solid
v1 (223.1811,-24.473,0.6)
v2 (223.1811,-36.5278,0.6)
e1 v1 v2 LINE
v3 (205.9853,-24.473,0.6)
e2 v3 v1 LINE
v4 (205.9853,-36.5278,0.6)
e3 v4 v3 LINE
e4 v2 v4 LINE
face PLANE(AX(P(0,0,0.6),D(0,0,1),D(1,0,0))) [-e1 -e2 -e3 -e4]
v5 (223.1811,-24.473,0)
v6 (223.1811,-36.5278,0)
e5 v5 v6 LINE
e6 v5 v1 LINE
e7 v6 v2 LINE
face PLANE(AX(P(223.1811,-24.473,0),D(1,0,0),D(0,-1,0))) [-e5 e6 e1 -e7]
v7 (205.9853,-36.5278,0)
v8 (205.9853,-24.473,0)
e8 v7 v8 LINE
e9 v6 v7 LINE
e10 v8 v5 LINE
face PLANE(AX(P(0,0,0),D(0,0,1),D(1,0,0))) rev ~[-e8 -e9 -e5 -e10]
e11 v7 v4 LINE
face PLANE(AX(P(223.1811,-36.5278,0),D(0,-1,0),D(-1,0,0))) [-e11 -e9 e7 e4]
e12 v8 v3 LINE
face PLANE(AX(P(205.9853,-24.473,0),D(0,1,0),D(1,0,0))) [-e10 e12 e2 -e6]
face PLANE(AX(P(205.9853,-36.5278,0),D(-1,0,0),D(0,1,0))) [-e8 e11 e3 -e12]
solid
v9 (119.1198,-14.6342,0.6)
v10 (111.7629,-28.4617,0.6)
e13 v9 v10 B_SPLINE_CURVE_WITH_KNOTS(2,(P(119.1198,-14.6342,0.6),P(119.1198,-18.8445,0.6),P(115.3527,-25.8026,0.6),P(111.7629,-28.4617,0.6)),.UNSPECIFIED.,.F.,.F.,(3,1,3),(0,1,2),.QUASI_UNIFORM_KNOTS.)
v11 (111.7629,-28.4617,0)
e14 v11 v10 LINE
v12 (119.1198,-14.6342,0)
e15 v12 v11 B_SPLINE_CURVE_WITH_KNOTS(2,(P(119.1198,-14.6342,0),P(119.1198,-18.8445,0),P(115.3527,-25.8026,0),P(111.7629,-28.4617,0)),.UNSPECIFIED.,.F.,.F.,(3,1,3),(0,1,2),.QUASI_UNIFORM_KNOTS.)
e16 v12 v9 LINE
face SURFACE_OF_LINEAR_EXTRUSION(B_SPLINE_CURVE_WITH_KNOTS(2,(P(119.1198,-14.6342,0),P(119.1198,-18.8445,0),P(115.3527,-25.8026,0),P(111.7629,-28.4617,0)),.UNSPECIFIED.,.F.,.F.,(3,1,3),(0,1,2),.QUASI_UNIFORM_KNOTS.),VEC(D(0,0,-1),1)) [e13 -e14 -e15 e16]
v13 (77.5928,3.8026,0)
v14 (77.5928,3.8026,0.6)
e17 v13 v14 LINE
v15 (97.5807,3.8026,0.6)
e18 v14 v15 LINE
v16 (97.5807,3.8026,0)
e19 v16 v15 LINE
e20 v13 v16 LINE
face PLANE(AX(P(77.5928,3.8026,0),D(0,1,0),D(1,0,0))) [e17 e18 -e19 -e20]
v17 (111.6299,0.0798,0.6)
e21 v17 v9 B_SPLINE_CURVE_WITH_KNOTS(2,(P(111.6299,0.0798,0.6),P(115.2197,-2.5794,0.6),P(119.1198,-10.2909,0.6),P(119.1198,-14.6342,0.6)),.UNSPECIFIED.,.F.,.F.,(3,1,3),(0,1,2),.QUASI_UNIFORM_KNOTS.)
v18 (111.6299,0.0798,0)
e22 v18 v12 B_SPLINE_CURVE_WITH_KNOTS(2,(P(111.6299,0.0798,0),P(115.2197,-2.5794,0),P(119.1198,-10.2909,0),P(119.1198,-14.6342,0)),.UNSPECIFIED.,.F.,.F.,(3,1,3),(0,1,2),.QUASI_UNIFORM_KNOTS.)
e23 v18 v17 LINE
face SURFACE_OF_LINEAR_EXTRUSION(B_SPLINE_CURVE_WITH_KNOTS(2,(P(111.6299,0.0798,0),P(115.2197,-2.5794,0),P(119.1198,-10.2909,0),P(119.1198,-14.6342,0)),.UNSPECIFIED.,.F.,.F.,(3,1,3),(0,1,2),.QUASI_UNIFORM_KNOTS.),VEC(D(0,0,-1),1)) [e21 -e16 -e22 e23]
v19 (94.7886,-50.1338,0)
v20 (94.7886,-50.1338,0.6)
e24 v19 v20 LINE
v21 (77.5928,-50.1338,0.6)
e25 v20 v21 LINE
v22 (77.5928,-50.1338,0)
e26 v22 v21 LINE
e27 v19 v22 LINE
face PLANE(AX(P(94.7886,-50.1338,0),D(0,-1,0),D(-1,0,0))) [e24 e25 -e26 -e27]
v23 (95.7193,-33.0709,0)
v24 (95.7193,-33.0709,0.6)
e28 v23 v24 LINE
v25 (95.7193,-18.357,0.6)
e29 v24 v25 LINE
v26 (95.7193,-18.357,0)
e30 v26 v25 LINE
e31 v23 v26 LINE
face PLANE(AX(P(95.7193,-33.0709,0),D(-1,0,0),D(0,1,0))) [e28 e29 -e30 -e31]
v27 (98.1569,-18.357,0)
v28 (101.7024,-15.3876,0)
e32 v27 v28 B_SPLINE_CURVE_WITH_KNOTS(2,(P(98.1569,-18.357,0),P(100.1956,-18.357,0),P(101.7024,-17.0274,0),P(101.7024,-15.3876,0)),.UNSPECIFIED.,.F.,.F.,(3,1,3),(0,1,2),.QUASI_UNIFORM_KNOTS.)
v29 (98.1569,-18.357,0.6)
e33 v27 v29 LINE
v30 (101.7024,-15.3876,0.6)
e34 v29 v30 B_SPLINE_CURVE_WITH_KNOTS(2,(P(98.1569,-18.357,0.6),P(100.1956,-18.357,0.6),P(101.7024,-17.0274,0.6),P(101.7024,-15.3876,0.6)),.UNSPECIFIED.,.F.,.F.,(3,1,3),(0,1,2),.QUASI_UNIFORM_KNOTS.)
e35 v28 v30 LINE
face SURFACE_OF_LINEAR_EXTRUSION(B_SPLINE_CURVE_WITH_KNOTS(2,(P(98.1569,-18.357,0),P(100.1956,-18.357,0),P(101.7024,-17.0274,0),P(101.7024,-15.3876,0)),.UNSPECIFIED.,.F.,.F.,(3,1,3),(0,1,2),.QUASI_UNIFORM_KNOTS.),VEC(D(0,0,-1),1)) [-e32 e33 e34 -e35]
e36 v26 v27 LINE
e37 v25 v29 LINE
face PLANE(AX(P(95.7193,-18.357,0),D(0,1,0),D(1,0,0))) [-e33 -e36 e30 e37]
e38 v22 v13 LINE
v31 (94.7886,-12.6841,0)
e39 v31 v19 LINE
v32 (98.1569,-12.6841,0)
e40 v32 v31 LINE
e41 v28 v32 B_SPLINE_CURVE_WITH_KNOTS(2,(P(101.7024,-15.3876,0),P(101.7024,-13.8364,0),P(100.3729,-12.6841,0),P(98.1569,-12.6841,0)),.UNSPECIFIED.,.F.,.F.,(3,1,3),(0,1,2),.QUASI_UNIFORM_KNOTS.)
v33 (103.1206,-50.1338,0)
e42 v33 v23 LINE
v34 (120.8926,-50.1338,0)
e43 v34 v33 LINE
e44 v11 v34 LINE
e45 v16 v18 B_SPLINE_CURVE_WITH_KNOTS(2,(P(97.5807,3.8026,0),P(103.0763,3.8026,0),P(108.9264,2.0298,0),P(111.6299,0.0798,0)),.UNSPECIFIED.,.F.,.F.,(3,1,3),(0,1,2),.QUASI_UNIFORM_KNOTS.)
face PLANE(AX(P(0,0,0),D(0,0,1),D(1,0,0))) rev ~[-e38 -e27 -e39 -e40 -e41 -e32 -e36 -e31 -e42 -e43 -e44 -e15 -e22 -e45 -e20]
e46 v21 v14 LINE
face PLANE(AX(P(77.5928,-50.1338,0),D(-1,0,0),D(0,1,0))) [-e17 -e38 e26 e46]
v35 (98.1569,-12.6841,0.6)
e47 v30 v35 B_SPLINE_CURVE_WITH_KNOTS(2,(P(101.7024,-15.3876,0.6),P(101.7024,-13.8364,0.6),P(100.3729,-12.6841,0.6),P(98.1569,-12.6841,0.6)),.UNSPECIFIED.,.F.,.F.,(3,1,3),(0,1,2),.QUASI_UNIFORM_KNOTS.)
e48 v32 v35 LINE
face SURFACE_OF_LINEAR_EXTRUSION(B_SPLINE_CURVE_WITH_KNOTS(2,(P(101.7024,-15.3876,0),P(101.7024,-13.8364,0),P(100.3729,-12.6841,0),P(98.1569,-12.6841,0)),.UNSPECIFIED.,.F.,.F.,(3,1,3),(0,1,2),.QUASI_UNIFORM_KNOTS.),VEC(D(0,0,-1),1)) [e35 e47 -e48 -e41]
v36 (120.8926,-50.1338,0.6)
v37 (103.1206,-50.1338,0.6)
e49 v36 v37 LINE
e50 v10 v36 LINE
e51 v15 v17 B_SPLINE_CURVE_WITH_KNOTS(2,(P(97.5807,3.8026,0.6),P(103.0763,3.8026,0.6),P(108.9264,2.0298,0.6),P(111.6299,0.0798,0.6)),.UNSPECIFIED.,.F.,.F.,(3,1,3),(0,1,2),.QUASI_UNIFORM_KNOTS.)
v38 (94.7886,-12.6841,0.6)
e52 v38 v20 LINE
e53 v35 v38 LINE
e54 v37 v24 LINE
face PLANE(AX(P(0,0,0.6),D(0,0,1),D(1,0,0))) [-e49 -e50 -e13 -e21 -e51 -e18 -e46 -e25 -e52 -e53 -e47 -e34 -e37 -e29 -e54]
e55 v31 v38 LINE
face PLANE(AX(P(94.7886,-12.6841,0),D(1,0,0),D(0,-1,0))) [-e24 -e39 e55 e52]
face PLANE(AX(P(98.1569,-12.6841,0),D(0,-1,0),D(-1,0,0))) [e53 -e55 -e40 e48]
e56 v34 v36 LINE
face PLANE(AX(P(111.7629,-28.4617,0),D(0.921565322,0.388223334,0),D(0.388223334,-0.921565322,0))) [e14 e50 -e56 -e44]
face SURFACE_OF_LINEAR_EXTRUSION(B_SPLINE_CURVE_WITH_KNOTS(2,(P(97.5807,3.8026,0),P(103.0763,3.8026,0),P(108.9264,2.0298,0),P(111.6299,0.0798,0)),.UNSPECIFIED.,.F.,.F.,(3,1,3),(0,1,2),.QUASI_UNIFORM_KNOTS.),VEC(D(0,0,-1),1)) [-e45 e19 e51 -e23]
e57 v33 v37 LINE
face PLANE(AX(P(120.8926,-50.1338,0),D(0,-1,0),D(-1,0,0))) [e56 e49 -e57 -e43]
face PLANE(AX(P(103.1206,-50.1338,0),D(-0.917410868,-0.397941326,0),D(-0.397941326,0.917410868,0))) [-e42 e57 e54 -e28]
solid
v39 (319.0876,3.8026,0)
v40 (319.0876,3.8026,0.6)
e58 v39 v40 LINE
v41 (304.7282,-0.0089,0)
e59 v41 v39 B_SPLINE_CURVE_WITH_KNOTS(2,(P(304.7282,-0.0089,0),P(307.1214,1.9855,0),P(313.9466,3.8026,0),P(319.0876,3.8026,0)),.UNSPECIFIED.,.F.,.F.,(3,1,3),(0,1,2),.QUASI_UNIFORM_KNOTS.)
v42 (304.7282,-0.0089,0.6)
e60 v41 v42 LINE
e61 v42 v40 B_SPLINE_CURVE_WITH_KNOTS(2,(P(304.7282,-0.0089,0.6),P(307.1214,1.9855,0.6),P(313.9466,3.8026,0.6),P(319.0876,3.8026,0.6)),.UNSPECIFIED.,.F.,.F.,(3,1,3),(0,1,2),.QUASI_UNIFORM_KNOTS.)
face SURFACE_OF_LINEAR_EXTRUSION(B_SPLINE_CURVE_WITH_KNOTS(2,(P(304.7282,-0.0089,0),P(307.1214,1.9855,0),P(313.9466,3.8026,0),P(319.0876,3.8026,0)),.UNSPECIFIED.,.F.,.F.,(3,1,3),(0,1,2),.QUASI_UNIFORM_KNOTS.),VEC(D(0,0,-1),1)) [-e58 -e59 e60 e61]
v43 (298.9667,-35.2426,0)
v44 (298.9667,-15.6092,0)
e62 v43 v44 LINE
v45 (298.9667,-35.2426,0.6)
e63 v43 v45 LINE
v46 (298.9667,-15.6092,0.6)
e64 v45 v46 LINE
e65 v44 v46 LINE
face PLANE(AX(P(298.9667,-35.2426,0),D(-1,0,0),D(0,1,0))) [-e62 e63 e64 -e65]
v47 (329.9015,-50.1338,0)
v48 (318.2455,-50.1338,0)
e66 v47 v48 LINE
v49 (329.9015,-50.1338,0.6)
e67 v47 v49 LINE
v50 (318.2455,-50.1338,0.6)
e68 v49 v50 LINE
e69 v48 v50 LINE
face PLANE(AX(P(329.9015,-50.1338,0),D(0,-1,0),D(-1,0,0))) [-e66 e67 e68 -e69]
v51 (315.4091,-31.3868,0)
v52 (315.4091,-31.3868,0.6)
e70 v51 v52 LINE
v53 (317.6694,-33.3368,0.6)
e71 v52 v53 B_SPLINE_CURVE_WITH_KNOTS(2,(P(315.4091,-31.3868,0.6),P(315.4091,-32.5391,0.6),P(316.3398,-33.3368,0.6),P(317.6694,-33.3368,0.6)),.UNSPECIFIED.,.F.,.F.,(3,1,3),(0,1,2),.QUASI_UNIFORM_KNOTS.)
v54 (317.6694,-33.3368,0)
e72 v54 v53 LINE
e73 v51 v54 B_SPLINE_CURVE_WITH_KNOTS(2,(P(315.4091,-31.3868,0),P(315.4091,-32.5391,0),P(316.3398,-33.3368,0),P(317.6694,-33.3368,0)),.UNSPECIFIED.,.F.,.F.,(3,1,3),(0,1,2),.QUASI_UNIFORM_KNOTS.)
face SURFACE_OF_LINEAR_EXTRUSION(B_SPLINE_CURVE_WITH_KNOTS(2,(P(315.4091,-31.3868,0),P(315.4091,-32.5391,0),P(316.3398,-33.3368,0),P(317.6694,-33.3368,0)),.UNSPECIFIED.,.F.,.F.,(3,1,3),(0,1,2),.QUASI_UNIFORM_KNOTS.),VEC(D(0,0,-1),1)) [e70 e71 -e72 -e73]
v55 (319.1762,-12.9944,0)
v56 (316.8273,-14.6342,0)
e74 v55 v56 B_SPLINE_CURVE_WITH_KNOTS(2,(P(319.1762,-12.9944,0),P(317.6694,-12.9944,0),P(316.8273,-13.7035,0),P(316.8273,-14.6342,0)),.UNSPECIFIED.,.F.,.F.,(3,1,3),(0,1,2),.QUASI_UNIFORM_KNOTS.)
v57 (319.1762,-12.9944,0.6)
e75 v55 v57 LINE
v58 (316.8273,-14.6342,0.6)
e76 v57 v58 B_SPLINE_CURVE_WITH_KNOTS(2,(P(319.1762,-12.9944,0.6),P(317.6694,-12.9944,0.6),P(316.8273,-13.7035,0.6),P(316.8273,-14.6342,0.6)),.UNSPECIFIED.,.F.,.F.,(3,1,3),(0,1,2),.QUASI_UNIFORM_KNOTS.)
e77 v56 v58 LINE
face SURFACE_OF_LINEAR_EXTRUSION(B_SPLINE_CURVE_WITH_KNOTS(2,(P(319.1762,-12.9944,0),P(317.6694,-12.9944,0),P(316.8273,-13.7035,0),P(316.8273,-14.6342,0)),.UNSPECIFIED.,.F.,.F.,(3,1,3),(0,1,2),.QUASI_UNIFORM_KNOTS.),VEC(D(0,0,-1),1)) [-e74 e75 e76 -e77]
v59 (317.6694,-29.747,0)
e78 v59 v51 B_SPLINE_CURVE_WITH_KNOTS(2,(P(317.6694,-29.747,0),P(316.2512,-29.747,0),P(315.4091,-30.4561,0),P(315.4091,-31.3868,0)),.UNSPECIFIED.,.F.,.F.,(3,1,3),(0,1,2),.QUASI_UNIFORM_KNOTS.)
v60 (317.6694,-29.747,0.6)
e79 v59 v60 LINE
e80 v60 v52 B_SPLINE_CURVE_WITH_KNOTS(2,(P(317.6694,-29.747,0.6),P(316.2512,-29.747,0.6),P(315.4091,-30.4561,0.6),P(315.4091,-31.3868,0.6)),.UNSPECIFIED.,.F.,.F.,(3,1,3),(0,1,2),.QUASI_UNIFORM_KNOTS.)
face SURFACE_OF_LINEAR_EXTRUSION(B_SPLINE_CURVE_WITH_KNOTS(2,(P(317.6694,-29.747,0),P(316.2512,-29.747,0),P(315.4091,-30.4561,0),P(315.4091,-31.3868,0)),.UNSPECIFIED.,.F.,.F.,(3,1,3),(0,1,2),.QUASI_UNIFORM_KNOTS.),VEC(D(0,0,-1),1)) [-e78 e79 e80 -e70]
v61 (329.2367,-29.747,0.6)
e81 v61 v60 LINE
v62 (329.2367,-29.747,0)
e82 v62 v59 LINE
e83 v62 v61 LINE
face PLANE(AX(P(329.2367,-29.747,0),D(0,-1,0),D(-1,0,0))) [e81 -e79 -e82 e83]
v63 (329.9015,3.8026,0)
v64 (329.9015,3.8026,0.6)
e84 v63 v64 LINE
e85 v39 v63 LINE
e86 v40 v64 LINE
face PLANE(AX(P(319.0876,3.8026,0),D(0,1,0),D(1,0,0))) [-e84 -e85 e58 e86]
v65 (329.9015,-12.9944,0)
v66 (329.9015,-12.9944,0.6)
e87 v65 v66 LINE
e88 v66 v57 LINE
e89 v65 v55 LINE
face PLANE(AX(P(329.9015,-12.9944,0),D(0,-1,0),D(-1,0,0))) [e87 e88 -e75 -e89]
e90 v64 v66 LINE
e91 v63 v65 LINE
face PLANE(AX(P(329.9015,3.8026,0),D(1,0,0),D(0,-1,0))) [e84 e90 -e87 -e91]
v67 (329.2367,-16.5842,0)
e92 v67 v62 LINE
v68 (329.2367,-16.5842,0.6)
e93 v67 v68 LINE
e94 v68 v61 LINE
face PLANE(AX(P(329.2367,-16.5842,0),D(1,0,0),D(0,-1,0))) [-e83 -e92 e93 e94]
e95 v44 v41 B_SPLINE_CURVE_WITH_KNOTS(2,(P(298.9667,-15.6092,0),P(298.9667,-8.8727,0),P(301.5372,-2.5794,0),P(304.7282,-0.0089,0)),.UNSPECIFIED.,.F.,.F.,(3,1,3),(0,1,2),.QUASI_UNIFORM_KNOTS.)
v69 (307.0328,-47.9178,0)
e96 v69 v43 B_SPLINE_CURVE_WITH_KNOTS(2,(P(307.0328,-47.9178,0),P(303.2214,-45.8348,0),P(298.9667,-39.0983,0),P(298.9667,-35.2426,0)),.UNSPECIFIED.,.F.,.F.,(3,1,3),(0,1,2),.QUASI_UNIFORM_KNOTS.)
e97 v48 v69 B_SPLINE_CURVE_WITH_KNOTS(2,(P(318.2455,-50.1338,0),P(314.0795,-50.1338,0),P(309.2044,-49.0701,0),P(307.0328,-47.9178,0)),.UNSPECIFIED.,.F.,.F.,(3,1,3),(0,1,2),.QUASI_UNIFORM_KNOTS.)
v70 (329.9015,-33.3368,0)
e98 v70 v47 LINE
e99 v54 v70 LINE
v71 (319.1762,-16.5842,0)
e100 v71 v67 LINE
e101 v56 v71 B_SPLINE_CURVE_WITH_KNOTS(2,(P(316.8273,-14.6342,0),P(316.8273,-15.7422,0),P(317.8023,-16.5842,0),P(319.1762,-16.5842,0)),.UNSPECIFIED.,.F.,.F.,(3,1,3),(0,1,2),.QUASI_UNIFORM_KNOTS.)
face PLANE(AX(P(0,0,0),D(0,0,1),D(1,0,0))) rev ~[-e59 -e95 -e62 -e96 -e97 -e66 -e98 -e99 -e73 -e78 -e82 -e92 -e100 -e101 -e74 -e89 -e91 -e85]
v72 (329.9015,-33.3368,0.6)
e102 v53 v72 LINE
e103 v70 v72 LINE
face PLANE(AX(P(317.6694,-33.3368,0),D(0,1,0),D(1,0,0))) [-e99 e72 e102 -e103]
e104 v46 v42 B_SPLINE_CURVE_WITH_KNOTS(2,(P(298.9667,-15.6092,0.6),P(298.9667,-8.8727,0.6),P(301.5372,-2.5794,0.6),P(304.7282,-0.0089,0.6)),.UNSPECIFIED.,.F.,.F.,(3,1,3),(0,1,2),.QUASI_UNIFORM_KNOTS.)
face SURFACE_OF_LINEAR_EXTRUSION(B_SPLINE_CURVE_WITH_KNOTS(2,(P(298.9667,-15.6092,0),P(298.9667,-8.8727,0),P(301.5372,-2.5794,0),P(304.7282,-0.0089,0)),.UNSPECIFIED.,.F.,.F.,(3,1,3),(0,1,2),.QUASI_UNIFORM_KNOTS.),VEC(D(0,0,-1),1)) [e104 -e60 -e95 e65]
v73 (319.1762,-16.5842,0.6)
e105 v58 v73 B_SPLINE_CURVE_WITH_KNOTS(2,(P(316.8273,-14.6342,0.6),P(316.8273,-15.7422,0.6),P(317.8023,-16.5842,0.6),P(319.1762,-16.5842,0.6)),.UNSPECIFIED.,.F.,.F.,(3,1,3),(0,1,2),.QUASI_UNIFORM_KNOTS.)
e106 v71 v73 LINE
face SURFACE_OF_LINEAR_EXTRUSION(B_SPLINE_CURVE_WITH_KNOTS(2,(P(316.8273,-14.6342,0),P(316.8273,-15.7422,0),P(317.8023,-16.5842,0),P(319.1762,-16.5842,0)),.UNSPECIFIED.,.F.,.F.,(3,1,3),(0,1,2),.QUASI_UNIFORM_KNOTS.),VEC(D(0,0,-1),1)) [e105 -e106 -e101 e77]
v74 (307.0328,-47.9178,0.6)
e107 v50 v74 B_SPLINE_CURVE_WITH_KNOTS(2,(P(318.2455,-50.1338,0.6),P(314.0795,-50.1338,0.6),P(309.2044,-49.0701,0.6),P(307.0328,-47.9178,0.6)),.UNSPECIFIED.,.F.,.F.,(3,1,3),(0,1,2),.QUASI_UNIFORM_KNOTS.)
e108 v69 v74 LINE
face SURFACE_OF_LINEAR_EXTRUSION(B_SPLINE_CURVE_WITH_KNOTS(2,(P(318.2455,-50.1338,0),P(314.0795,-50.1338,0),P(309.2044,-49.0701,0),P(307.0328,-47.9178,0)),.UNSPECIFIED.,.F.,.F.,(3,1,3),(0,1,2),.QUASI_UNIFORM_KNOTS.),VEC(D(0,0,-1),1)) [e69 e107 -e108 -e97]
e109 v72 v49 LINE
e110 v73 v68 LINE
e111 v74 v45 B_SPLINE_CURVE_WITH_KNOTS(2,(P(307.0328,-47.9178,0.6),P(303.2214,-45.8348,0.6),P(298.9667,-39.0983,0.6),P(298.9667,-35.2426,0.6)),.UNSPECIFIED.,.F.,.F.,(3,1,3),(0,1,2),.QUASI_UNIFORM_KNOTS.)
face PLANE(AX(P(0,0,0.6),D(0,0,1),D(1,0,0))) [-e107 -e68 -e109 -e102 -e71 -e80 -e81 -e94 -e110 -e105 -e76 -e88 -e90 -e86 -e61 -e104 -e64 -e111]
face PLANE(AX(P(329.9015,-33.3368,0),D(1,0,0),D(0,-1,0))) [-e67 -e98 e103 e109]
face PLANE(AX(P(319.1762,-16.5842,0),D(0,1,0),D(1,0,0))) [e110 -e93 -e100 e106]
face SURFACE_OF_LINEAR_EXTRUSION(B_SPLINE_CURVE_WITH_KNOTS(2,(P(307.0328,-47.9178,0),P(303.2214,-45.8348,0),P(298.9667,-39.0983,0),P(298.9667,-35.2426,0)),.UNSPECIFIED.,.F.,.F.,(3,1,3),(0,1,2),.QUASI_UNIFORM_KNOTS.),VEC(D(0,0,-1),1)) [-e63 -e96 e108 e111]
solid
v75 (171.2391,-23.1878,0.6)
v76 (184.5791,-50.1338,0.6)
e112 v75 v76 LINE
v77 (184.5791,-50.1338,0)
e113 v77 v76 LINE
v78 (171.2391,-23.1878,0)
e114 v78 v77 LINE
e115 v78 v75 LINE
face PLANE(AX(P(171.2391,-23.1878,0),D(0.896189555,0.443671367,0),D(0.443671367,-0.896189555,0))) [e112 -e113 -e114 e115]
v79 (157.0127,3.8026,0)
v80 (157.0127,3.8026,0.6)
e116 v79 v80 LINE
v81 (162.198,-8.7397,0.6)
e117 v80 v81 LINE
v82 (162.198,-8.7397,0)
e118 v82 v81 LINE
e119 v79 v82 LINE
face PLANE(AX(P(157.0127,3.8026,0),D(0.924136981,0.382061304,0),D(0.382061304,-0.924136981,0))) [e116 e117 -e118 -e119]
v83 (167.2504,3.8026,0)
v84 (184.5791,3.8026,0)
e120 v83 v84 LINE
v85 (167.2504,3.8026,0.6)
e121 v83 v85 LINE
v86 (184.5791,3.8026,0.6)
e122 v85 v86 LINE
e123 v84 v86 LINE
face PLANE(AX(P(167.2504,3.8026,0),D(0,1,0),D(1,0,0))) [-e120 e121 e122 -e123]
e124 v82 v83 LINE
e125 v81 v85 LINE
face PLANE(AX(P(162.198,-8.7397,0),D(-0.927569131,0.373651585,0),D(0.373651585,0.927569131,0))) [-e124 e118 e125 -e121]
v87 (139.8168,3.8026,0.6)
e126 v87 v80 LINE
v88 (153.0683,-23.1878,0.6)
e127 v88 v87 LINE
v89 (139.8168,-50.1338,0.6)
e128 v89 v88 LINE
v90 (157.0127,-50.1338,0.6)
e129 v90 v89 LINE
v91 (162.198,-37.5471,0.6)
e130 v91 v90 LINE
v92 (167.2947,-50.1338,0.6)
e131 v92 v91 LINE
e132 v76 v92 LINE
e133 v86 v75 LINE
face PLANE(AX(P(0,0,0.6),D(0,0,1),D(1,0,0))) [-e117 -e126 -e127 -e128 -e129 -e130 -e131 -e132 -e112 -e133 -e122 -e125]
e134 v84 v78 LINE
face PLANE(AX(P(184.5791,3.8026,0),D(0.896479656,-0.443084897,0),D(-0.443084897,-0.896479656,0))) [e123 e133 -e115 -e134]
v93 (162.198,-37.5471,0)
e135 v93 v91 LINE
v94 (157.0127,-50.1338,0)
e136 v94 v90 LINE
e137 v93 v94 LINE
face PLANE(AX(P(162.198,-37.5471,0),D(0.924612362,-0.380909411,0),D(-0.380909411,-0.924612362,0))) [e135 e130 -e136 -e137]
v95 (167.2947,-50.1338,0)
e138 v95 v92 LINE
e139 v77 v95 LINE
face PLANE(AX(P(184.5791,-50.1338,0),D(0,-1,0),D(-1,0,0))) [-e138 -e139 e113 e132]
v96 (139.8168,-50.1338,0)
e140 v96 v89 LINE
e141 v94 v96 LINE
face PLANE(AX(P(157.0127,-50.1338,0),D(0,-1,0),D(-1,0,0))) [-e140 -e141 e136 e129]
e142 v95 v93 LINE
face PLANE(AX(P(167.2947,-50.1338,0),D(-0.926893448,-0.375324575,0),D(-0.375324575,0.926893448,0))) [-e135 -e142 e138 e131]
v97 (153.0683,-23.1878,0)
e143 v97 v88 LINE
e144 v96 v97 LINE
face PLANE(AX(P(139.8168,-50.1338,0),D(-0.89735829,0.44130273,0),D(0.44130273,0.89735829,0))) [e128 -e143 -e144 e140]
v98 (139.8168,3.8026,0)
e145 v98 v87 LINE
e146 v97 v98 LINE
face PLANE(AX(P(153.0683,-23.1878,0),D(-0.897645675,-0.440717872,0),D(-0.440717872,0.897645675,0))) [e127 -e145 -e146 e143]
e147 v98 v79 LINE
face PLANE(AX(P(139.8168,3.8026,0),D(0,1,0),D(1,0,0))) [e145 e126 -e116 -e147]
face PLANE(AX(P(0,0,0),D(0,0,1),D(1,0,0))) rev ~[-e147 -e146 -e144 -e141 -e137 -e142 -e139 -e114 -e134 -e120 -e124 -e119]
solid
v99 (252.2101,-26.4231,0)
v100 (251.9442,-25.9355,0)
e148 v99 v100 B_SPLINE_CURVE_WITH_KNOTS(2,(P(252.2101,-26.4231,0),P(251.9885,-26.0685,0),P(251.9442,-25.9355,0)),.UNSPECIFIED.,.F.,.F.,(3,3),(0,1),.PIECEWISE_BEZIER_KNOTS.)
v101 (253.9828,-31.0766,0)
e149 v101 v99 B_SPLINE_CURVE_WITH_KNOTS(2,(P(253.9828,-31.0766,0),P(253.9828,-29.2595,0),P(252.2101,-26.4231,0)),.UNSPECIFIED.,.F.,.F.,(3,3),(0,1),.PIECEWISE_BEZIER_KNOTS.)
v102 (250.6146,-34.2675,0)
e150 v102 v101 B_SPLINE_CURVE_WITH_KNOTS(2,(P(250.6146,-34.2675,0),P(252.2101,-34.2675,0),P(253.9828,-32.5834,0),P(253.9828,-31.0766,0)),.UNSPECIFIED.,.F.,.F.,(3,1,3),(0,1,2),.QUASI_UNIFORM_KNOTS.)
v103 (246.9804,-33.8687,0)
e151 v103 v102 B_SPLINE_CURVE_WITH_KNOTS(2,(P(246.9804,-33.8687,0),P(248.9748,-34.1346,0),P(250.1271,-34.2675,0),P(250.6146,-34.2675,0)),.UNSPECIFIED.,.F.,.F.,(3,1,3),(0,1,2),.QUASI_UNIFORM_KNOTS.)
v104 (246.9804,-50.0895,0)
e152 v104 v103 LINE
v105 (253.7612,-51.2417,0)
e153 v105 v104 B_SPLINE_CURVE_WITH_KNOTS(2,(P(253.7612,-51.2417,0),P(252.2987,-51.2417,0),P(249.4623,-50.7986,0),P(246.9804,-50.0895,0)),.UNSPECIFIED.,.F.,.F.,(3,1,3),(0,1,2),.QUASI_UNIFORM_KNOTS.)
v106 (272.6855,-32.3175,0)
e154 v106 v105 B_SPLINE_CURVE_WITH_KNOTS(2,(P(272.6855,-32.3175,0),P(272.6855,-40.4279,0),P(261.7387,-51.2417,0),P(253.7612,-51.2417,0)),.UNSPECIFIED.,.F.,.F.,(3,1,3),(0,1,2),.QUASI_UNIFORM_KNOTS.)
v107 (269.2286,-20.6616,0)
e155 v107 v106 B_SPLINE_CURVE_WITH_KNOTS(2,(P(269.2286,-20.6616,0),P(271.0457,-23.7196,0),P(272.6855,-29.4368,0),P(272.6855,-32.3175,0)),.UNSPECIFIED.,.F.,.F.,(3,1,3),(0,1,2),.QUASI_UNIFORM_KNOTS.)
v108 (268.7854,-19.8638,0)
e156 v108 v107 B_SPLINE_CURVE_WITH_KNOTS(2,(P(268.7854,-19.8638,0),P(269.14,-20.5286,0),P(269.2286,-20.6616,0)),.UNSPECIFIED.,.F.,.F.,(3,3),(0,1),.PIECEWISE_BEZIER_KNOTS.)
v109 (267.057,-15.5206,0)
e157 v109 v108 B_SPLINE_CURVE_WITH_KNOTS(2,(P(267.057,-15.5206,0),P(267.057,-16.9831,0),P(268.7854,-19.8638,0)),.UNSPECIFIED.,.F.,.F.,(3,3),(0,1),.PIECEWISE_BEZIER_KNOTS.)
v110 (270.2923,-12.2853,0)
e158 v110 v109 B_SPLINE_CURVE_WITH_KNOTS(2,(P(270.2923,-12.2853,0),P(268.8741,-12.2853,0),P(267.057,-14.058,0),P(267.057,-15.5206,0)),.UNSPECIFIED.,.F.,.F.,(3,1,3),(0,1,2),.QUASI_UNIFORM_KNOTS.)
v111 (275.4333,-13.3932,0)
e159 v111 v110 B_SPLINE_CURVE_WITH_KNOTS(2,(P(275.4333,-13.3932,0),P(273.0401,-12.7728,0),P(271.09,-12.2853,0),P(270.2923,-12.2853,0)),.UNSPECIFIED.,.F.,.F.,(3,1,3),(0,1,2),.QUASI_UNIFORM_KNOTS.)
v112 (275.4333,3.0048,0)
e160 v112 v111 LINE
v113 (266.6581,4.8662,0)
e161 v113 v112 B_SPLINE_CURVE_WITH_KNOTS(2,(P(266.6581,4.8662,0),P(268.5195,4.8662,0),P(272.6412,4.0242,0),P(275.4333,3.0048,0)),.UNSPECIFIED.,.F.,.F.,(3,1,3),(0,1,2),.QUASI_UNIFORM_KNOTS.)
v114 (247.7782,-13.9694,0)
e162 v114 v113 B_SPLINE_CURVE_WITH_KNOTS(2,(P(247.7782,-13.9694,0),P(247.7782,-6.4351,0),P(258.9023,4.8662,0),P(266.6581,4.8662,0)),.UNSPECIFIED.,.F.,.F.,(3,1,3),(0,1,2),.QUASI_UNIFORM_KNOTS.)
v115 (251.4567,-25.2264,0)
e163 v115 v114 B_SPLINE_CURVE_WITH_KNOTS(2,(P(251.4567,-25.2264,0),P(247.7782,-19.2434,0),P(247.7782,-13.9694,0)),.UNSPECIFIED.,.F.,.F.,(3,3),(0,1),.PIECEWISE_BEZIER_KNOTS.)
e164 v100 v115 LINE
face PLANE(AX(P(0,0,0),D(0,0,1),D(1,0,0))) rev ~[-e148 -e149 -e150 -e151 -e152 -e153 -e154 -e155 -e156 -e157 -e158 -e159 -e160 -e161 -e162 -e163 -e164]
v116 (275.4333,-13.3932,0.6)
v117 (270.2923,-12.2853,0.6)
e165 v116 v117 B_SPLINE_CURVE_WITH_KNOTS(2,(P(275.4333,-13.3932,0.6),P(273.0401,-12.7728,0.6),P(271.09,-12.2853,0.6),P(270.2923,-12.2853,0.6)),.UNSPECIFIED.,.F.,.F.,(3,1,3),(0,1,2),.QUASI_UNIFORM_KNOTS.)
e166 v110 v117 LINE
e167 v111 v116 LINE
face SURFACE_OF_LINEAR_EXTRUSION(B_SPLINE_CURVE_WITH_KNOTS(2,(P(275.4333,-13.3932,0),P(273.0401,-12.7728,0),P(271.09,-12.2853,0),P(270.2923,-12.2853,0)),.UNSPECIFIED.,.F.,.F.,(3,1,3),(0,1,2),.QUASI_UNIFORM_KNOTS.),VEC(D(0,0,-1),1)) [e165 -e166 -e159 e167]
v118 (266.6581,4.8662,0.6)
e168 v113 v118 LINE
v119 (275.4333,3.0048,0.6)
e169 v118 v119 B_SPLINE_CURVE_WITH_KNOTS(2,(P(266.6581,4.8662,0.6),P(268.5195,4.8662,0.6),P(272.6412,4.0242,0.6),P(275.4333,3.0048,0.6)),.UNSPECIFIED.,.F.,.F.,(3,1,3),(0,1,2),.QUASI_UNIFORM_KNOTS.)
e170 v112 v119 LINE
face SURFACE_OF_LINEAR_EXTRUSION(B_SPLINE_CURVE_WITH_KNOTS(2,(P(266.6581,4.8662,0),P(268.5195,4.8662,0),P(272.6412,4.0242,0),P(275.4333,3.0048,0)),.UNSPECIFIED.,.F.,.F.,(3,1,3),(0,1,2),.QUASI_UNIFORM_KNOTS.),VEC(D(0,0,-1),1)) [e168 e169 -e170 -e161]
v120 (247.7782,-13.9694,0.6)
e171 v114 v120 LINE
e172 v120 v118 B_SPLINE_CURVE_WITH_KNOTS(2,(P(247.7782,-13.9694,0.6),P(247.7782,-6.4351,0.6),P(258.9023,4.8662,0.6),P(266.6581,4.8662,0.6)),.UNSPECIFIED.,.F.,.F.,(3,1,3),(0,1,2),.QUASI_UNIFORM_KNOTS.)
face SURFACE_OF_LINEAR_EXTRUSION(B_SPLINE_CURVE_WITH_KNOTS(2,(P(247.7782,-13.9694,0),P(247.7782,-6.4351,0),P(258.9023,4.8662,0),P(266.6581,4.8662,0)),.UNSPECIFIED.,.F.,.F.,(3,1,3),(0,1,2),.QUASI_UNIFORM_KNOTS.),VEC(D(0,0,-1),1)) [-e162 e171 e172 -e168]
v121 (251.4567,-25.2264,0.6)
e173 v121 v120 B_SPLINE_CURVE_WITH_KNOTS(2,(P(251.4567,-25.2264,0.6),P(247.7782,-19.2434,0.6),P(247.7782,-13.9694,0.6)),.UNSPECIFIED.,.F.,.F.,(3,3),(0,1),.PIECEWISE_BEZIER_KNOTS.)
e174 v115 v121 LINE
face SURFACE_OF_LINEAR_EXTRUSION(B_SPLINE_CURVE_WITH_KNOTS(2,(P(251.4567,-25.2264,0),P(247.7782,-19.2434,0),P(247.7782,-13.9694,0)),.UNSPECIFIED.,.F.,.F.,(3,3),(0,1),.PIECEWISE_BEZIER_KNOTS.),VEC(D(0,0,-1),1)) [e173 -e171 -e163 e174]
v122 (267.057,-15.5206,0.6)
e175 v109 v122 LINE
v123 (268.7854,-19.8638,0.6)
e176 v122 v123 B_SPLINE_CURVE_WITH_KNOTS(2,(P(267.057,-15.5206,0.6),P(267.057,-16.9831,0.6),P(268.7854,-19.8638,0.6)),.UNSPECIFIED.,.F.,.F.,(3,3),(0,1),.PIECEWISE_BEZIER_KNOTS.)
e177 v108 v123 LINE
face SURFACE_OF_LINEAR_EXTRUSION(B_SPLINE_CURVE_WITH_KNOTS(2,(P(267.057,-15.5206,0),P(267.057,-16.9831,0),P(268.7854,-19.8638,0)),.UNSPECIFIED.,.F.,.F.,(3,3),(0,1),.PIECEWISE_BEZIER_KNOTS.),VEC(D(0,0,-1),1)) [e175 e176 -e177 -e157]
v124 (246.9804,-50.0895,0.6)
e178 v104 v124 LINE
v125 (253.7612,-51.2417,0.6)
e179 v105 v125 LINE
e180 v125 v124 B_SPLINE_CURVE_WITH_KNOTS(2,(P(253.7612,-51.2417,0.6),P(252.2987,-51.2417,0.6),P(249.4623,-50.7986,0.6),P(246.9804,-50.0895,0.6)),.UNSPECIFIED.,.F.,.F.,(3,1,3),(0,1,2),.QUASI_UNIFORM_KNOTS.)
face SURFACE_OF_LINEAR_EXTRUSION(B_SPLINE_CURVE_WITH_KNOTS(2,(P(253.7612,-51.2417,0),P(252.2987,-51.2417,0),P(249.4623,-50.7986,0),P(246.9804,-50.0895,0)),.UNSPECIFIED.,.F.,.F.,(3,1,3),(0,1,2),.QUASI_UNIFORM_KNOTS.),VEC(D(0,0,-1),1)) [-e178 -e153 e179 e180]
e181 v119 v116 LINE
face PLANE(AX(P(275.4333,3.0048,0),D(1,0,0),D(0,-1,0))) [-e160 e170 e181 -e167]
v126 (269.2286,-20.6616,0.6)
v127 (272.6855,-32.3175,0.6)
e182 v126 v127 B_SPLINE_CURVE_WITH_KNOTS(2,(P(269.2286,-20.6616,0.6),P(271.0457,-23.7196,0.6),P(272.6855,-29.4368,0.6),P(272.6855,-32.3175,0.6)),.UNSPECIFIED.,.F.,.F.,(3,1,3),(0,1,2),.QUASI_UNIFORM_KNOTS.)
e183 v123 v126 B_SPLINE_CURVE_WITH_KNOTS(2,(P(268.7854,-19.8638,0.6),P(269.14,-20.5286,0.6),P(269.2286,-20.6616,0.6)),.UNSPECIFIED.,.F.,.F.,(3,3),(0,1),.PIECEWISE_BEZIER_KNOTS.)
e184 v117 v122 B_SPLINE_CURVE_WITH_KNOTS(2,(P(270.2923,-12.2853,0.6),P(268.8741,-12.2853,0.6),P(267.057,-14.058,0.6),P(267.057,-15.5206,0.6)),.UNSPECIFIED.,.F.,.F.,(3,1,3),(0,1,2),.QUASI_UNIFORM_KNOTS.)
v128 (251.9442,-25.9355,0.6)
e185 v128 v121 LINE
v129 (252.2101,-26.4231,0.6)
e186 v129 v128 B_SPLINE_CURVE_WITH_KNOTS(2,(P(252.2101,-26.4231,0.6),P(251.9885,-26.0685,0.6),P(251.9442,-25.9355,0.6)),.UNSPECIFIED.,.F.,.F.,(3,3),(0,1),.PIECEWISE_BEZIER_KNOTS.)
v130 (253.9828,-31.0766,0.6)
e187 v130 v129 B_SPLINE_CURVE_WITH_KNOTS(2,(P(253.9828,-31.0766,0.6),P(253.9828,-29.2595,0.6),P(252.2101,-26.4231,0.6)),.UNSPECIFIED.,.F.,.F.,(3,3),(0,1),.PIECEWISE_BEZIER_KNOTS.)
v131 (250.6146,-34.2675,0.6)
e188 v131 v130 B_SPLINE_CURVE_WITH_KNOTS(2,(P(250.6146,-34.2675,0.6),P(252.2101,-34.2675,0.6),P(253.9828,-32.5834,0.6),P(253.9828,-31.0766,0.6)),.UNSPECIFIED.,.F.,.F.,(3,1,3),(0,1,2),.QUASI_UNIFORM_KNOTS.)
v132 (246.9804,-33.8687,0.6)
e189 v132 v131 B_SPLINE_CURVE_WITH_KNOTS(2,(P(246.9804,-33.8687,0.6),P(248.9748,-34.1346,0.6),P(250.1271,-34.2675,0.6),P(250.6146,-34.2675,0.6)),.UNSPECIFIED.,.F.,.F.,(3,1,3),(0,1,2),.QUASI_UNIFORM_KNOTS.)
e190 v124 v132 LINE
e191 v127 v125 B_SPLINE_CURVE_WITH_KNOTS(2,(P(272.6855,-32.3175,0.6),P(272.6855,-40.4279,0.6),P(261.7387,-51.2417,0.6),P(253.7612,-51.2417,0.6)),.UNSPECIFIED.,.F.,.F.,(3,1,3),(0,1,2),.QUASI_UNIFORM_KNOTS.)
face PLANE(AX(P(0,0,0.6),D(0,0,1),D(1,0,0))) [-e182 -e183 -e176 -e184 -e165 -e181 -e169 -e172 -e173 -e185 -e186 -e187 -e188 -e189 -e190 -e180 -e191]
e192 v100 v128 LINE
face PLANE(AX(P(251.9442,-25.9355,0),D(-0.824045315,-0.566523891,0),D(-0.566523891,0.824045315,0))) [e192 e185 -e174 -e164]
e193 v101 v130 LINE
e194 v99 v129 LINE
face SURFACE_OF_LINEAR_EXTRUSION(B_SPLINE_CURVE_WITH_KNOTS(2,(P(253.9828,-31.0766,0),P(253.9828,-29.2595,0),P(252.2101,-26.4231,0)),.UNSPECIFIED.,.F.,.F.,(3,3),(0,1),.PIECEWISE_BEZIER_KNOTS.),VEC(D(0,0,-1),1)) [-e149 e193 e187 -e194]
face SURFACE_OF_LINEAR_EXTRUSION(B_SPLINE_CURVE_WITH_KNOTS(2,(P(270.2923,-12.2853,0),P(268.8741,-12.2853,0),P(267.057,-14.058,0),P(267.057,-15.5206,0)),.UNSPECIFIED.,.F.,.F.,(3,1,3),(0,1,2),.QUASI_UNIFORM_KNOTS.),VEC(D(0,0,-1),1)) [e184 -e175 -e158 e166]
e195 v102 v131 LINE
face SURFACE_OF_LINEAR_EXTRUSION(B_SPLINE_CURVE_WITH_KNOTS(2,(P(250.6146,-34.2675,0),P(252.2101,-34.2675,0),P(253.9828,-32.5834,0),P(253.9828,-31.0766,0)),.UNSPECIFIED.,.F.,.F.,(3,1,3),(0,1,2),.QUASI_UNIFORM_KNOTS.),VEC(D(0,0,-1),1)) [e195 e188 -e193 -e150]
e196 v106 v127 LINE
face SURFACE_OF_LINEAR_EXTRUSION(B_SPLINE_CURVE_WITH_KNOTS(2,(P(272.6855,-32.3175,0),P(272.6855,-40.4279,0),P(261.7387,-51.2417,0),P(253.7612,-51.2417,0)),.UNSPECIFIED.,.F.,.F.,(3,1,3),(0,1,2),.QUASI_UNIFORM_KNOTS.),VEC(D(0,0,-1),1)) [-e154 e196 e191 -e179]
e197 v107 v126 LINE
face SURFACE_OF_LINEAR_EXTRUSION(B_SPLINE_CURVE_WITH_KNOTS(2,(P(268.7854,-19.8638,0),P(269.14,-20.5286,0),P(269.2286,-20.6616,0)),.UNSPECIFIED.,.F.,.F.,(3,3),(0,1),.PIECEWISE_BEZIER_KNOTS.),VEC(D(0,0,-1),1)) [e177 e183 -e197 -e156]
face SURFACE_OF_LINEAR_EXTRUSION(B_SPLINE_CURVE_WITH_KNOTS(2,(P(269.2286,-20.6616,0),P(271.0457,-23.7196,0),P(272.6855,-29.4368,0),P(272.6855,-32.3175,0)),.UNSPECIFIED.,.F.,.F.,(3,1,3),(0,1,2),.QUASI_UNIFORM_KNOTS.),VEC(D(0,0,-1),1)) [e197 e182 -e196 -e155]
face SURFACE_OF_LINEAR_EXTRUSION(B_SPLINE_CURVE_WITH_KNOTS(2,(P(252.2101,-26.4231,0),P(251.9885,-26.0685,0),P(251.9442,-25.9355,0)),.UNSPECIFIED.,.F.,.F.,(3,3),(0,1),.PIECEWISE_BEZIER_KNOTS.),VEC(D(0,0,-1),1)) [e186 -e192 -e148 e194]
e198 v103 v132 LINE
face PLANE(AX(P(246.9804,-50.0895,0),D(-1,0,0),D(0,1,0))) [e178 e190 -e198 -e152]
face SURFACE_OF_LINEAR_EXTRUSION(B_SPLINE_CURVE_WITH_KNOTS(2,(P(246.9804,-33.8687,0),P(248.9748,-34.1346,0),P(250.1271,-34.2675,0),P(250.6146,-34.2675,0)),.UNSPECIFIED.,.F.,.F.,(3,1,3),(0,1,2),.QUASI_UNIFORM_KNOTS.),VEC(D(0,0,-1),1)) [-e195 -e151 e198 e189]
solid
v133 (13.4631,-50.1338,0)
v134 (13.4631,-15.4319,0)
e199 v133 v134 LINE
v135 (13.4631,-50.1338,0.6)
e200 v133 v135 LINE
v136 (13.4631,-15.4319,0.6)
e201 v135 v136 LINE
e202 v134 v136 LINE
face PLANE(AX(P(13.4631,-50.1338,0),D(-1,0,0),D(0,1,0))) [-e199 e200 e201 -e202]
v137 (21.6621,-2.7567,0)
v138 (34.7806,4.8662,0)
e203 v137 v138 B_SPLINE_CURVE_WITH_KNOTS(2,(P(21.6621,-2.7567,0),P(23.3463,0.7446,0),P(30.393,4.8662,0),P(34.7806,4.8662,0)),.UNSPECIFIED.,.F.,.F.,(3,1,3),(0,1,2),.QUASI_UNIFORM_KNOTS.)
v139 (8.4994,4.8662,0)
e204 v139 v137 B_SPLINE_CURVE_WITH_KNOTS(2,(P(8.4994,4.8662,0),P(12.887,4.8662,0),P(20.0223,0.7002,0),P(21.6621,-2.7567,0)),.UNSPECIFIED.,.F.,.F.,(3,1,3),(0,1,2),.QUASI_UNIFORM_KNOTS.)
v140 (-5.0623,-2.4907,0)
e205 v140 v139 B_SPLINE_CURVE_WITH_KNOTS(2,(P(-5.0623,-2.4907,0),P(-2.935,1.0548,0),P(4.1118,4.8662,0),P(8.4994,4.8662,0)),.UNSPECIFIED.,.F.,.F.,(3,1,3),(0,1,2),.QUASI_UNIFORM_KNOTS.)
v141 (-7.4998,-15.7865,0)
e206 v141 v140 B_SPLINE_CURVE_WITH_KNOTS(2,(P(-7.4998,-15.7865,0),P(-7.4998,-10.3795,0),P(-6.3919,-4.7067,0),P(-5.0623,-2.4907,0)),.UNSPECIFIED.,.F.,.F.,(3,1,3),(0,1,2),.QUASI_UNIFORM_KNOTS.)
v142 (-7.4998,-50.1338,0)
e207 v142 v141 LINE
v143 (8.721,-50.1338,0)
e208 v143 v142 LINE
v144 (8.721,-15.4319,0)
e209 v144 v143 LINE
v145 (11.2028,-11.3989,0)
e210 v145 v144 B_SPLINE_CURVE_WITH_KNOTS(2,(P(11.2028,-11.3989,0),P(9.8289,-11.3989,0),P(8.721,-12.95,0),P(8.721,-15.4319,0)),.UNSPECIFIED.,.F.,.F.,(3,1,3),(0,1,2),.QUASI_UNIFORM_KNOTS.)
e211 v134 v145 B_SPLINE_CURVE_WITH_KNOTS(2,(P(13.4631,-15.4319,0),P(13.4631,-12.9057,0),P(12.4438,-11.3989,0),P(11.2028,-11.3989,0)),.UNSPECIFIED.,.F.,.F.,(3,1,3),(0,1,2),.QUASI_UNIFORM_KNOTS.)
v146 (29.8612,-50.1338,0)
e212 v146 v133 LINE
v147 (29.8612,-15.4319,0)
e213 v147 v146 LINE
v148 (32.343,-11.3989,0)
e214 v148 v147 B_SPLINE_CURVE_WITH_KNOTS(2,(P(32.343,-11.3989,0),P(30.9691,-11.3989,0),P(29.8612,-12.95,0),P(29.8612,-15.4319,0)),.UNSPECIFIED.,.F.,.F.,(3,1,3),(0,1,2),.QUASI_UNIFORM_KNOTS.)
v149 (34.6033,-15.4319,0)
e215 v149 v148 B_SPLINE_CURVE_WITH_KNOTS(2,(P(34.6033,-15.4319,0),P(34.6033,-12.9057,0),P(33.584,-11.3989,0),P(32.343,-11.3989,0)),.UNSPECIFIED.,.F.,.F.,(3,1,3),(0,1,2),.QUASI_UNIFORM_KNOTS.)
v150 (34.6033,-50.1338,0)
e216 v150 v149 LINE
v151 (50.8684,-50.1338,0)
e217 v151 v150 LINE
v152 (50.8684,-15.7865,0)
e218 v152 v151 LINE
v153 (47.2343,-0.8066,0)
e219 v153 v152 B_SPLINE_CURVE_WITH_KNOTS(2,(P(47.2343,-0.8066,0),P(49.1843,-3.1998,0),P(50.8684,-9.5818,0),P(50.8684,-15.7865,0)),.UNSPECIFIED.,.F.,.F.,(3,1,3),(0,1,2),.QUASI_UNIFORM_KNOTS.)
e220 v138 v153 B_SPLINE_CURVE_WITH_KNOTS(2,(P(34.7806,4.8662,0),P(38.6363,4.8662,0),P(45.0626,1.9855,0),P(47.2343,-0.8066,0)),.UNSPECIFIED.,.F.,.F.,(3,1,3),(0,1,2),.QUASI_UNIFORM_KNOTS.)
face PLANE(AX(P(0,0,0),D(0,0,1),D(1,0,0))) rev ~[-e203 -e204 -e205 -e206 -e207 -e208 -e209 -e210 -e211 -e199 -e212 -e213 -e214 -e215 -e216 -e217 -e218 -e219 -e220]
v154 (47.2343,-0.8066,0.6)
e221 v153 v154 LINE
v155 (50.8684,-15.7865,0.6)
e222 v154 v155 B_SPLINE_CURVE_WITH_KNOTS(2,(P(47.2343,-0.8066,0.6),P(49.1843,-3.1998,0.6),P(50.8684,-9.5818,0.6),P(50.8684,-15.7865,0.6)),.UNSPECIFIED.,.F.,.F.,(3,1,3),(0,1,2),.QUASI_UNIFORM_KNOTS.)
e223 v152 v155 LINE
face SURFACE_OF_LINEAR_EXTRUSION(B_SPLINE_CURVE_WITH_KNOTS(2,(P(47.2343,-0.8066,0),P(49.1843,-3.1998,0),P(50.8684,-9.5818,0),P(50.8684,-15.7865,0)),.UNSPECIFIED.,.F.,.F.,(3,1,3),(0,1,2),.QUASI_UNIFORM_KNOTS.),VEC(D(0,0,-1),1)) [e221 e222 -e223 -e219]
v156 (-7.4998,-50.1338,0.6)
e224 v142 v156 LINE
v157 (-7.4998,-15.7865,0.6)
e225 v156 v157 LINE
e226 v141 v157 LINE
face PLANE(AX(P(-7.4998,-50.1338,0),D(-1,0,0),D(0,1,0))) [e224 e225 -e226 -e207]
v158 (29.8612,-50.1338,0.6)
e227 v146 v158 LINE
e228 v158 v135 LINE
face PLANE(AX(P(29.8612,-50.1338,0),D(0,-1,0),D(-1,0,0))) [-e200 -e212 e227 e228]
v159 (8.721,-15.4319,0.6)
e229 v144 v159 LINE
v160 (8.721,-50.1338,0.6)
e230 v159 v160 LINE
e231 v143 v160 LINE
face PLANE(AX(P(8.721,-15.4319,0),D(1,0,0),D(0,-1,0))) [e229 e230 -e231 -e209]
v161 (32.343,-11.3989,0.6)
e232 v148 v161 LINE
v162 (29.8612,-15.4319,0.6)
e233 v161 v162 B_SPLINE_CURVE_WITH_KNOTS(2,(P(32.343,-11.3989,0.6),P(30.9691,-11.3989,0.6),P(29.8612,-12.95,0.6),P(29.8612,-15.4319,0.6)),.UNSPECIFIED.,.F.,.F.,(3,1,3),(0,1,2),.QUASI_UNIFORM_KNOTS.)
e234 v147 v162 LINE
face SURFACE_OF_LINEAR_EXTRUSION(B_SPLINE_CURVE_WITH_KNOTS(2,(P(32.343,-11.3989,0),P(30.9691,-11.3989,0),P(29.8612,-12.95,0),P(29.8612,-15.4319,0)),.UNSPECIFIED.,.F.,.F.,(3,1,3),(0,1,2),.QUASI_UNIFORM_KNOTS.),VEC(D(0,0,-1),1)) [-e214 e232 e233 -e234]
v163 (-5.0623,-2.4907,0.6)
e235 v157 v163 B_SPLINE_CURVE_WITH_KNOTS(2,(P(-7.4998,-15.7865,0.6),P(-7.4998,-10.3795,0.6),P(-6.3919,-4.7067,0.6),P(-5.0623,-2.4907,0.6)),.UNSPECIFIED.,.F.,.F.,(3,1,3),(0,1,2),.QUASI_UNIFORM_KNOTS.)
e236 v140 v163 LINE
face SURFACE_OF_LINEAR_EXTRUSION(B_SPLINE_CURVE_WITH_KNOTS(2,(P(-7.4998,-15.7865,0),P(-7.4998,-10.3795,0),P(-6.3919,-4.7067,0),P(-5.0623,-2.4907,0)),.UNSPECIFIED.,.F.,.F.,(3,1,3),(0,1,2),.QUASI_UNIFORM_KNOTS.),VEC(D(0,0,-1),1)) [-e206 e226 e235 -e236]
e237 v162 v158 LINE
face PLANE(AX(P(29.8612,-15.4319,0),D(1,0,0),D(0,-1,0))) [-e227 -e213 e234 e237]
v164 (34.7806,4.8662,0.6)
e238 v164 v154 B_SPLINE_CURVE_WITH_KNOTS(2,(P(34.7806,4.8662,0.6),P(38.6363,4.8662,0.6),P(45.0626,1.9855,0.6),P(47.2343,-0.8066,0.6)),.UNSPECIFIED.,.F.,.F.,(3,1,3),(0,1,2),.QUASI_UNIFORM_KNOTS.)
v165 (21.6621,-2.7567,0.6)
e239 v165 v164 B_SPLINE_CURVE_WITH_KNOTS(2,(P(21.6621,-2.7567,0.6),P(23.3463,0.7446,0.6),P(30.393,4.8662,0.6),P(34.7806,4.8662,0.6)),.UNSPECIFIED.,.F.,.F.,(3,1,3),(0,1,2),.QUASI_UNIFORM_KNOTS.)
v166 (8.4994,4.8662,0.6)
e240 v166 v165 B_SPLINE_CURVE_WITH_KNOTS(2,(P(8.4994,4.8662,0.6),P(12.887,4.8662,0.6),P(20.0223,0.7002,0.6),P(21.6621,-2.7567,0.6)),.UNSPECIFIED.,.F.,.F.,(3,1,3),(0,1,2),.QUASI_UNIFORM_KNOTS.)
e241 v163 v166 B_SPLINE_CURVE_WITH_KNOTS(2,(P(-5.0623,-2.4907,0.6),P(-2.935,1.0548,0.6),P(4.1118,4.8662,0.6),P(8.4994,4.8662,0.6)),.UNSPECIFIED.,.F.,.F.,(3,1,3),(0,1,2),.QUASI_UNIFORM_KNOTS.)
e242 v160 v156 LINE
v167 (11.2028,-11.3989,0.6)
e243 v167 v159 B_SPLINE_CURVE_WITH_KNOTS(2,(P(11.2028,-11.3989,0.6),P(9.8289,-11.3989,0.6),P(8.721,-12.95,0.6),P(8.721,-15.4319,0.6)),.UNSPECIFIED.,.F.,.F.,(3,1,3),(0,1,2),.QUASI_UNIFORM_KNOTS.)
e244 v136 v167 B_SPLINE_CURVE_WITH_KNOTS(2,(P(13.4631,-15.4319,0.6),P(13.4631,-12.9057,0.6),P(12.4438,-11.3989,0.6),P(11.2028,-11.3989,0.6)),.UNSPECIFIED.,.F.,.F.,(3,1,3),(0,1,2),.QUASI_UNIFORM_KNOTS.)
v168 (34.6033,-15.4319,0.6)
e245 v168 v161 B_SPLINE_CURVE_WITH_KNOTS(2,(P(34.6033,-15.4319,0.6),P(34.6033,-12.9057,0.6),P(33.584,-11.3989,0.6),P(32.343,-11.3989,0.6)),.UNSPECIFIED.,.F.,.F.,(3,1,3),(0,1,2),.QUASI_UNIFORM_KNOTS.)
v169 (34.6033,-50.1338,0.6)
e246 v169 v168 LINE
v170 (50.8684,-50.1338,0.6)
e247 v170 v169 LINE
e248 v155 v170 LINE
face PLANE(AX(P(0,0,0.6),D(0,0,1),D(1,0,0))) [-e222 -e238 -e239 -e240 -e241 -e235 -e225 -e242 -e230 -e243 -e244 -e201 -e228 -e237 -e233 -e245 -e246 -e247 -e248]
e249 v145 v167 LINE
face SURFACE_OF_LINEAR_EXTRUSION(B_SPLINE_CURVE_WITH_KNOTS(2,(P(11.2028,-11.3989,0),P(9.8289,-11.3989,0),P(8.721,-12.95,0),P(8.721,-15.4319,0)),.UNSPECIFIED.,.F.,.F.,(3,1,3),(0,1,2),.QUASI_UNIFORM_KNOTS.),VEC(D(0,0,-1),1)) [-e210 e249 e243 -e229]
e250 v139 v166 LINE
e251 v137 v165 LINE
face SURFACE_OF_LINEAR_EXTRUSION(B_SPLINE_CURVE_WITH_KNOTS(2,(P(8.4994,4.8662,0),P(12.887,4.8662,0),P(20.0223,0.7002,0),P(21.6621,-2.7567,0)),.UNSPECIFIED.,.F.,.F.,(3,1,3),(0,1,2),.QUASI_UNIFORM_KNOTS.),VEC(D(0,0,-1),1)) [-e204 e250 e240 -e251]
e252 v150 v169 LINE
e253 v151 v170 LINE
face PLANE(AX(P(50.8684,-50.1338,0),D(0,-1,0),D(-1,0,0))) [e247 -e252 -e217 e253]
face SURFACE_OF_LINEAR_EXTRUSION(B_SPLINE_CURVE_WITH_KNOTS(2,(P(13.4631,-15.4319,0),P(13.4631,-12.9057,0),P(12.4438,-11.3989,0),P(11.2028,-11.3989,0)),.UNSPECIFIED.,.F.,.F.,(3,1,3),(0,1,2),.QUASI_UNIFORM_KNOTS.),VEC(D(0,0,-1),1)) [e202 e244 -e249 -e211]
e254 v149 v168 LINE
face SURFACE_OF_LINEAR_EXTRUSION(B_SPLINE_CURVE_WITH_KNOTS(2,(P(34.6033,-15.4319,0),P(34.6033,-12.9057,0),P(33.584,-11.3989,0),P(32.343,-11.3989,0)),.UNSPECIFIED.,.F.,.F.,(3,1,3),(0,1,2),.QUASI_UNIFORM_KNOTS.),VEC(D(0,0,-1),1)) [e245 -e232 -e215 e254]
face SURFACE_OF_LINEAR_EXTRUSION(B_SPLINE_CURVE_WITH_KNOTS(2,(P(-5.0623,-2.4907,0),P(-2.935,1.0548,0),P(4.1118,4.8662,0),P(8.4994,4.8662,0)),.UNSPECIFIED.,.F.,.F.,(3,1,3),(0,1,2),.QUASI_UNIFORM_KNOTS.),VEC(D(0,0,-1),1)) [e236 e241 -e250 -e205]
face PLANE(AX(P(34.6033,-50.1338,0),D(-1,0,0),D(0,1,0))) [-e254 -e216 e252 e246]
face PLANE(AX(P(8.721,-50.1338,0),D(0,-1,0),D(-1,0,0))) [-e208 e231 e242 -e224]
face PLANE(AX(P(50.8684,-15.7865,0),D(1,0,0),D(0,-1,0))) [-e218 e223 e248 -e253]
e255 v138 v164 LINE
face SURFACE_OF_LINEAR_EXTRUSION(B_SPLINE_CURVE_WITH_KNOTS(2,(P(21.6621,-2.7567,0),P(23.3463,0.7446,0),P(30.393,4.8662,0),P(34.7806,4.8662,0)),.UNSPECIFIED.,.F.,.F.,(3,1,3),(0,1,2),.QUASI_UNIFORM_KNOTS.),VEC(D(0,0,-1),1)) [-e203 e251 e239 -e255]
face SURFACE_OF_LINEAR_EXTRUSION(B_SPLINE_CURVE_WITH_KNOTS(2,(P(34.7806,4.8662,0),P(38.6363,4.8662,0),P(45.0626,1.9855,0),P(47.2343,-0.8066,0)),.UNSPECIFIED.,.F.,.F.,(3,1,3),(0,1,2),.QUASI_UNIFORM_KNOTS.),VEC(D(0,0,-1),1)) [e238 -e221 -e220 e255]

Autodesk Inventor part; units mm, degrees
ref_plane "YZ Plane" through (0, 0, 0) normal (1, 0, 0) x (0, 1, 0)
ref_plane "XZ Plane" through (0, 0, 0) normal (0, 1, 0) x (-1, 0, 0)
ref_plane "XY Plane" through (0, 0, 0) normal (0, 0, 1) x (1, 0, 0)
sketch "Boceto1" plane through (0, 0, 0) normal (0, 0, 1) x (1, 0, 0)
  line L0 (-10.159, 4.8662) -> (417.1829, 4.8662) construction
  line L1 (417.1829, 4.8662) -> (417.1829, -72.825) construction
  line L2 (417.1829, -72.825) -> (-10.159, -72.825) construction
  line L3 (-10.159, -72.825) -> (-10.159, 4.8662) construction
  line L4 (34.6033, -50.1338) -> (34.6033, -15.4319)
  spline S0 degree 2 poles (34.6033, -15.4319) (34.6033, -12.9057) (33.584, -11.3989) (32.343, -11.3989) knots 0 0 0 1 2 2 2
  spline S1 degree 2 poles (32.343, -11.3989) (30.9691, -11.3989) (29.8612, -12.95) (29.8612, -15.4319) knots 0 0 0 1 2 2 2
  line L5 (29.8612, -15.4319) -> (29.8612, -50.1338)
  line L6 (29.8612, -50.1338) -> (13.4631, -50.1338)
  line L7 (13.4631, -50.1338) -> (13.4631, -15.4319)
  spline S2 degree 2 poles (13.4631, -15.4319) (13.4631, -12.9057) (12.4438, -11.3989) (11.2028, -11.3989) knots 0 0 0 1 2 2 2
  spline S3 degree 2 poles (11.2028, -11.3989) (9.8289, -11.3989) (8.721, -12.95) (8.721, -15.4319) knots 0 0 0 1 2 2 2
  line L8 (8.721, -15.4319) -> (8.721, -50.1338)
  line L9 (8.721, -50.1338) -> (-7.4998, -50.1338)
  line L10 (-7.4998, -50.1338) -> (-7.4998, -15.7865)
  spline S4 degree 2 poles (-7.4998, -15.7865) (-7.4998, -10.3795) (-6.3919, -4.7067) (-5.0623, -2.4907) knots 0 0 0 1 2 2 2
  spline S5 degree 2 poles (-5.0623, -2.4907) (-2.935, 1.0548) (4.1118, 4.8662) (8.4994, 4.8662) knots 0 0 0 1 2 2 2
  spline S6 degree 2 poles (8.4994, 4.8662) (12.887, 4.8662) (20.0223, 0.7002) (21.6621, -2.7567) knots 0 0 0 1 2 2 2
  spline S7 degree 2 poles (21.6621, -2.7567) (23.3463, 0.7446) (30.393, 4.8662) (34.7806, 4.8662) knots 0 0 0 1 2 2 2
  spline S8 degree 2 poles (34.7806, 4.8662) (38.6363, 4.8662) (45.0626, 1.9855) (47.2343, -0.8066) knots 0 0 0 1 2 2 2
  spline S9 degree 2 poles (47.2343, -0.8066) (49.1843, -3.1998) (50.8684, -9.5818) (50.8684, -15.7865) knots 0 0 0 1 2 2 2
  line L11 (50.8684, -15.7865) -> (50.8684, -50.1338)
  line L12 (50.8684, -50.1338) -> (34.6033, -50.1338)
  line L13 (95.7193, -18.357) -> (98.1569, -18.357)
  spline S10 degree 2 poles (98.1569, -18.357) (100.1956, -18.357) (101.7024, -17.0274) (101.7024, -15.3876) knots 0 0 0 1 2 2 2
  spline S11 degree 2 poles (101.7024, -15.3876) (101.7024, -13.8364) (100.3729, -12.6841) (98.1569, -12.6841) knots 0 0 0 1 2 2 2
  line L14 (98.1569, -12.6841) -> (94.7886, -12.6841)
  line L15 (94.7886, -12.6841) -> (94.7886, -50.1338)
  line L16 (94.7886, -50.1338) -> (77.5928, -50.1338)
  line L17 (77.5928, -50.1338) -> (77.5928, 3.8026)
  line L18 (77.5928, 3.8026) -> (97.5807, 3.8026)
  spline S12 degree 2 poles (97.5807, 3.8026) (103.0763, 3.8026) (108.9264, 2.0298) (111.6299, 0.0798) knots 0 0 0 1 2 2 2
  spline S13 degree 2 poles (111.6299, 0.0798) (115.2197, -2.5794) (119.1198, -10.2909) (119.1198, -14.6342) knots 0 0 0 1 2 2 2
  spline S14 degree 2 poles (119.1198, -14.6342) (119.1198, -18.8445) (115.3527, -25.8026) (111.7629, -28.4617) knots 0 0 0 1 2 2 2
  line L19 (111.7629, -28.4617) -> (120.8926, -50.1338)
  line L20 (120.8926, -50.1338) -> (103.1206, -50.1338)
  line L21 (103.1206, -50.1338) -> (95.7193, -33.0709)
  line L22 (95.7193, -33.0709) -> (95.7193, -18.357)
  line L23 (139.8168, 3.8026) -> (157.0127, 3.8026)
  line L24 (157.0127, 3.8026) -> (162.198, -8.7397)
  line L25 (162.198, -8.7397) -> (167.2504, 3.8026)
  line L26 (167.2504, 3.8026) -> (184.5791, 3.8026)
  line L27 (184.5791, 3.8026) -> (171.2391, -23.1878)
  line L28 (171.2391, -23.1878) -> (184.5791, -50.1338)
  line L29 (184.5791, -50.1338) -> (167.2947, -50.1338)
  line L30 (167.2947, -50.1338) -> (162.198, -37.5471)
  line L31 (162.198, -37.5471) -> (157.0127, -50.1338)
  line L32 (157.0127, -50.1338) -> (139.8168, -50.1338)
  line L33 (139.8168, -50.1338) -> (153.0683, -23.1878)
  line L34 (153.0683, -23.1878) -> (139.8168, 3.8026)
  line L35 (205.9853, -36.5278) -> (205.9853, -24.473)
  line L36 (205.9853, -24.473) -> (223.1811, -24.473)
  line L37 (223.1811, -24.473) -> (223.1811, -36.5278)
  line L38 (223.1811, -36.5278) -> (205.9853, -36.5278)
  line L39 (246.9804, -50.0895) -> (246.9804, -33.8687)
  spline S15 degree 2 poles (246.9804, -33.8687) (248.9748, -34.1346) (250.1271, -34.2675) (250.6146, -34.2675) knots 0 0 0 1 2 2 2
  spline S16 degree 2 poles (250.6146, -34.2675) (252.2101, -34.2675) (253.9828, -32.5834) (253.9828, -31.0766) knots 0 0 0 1 2 2 2
  spline S17 degree 2 poles (253.9828, -31.0766) (253.9828, -29.2595) (252.2101, -26.4231) knots 0 0 0 1 1 1
  spline S18 degree 2 poles (252.2101, -26.4231) (251.9885, -26.0685) (251.9442, -25.9355) knots 0 0 0 1 1 1
  line L40 (251.9442, -25.9355) -> (251.4567, -25.2264)
  spline S19 degree 2 poles (251.4567, -25.2264) (247.7782, -19.2434) (247.7782, -13.9694) knots 0 0 0 1 1 1
  spline S20 degree 2 poles (247.7782, -13.9694) (247.7782, -6.4351) (258.9023, 4.8662) (266.6581, 4.8662) knots 0 0 0 1 2 2 2
  spline S21 degree 2 poles (266.6581, 4.8662) (268.5195, 4.8662) (272.6412, 4.0242) (275.4333, 3.0048) knots 0 0 0 1 2 2 2
  line L41 (275.4333, 3.0048) -> (275.4333, -13.3932)
  spline S22 degree 2 poles (275.4333, -13.3932) (273.0401, -12.7728) (271.09, -12.2853) (270.2923, -12.2853) knots 0 0 0 1 2 2 2
  spline S23 degree 2 poles (270.2923, -12.2853) (268.8741, -12.2853) (267.057, -14.058) (267.057, -15.5206) knots 0 0 0 1 2 2 2
  spline S24 degree 2 poles (267.057, -15.5206) (267.057, -16.9831) (268.7854, -19.8638) knots 0 0 0 1 1 1
  spline S25 degree 2 poles (268.7854, -19.8638) (269.14, -20.5286) (269.2286, -20.6616) knots 0 0 0 1 1 1
  spline S26 degree 2 poles (269.2286, -20.6616) (271.0457, -23.7196) (272.6855, -29.4368) (272.6855, -32.3175) knots 0 0 0 1 2 2 2
  spline S27 degree 2 poles (272.6855, -32.3175) (272.6855, -40.4279) (261.7387, -51.2417) (253.7612, -51.2417) knots 0 0 0 1 2 2 2
  spline S28 degree 2 poles (253.7612, -51.2417) (252.2987, -51.2417) (249.4623, -50.7986) (246.9804, -50.0895) knots 0 0 0 1 2 2 2
  line L42 (329.9015, -50.1338) -> (318.2455, -50.1338)
  spline S29 degree 2 poles (318.2455, -50.1338) (314.0795, -50.1338) (309.2044, -49.0701) (307.0328, -47.9178) knots 0 0 0 1 2 2 2
  spline S30 degree 2 poles (307.0328, -47.9178) (303.2214, -45.8348) (298.9667, -39.0983) (298.9667, -35.2426) knots 0 0 0 1 2 2 2
  line L43 (298.9667, -35.2426) -> (298.9667, -15.6092)
  spline S31 degree 2 poles (298.9667, -15.6092) (298.9667, -8.8727) (301.5372, -2.5794) (304.7282, -0.0089) knots 0 0 0 1 2 2 2
  spline S32 degree 2 poles (304.7282, -0.0089) (307.1214, 1.9855) (313.9466, 3.8026) (319.0876, 3.8026) knots 0 0 0 1 2 2 2
  line L44 (319.0876, 3.8026) -> (329.9015, 3.8026)
  line L45 (329.9015, 3.8026) -> (329.9015, -12.9944)
  line L46 (329.9015, -12.9944) -> (319.1762, -12.9944)
  spline S33 degree 2 poles (319.1762, -12.9944) (317.6694, -12.9944) (316.8273, -13.7035) (316.8273, -14.6342) knots 0 0 0 1 2 2 2
  spline S34 degree 2 poles (316.8273, -14.6342) (316.8273, -15.7422) (317.8023, -16.5842) (319.1762, -16.5842) knots 0 0 0 1 2 2 2
  line L47 (319.1762, -16.5842) -> (329.2367, -16.5842)
  line L48 (329.2367, -16.5842) -> (329.2367, -29.747)
  line L49 (329.2367, -29.747) -> (317.6694, -29.747)
  spline S35 degree 2 poles (317.6694, -29.747) (316.2512, -29.747) (315.4091, -30.4561) (315.4091, -31.3868) knots 0 0 0 1 2 2 2
  spline S36 degree 2 poles (315.4091, -31.3868) (315.4091, -32.5391) (316.3398, -33.3368) (317.6694, -33.3368) knots 0 0 0 1 2 2 2
  line L50 (317.6694, -33.3368) -> (329.9015, -33.3368)
  line L51 (329.9015, -33.3368) -> (329.9015, -50.1338)
  point P0 (0, 0)
extrude "Extrusión1" add sketch "Boceto1" along normal blind 0.6
properties part number "Logo"
